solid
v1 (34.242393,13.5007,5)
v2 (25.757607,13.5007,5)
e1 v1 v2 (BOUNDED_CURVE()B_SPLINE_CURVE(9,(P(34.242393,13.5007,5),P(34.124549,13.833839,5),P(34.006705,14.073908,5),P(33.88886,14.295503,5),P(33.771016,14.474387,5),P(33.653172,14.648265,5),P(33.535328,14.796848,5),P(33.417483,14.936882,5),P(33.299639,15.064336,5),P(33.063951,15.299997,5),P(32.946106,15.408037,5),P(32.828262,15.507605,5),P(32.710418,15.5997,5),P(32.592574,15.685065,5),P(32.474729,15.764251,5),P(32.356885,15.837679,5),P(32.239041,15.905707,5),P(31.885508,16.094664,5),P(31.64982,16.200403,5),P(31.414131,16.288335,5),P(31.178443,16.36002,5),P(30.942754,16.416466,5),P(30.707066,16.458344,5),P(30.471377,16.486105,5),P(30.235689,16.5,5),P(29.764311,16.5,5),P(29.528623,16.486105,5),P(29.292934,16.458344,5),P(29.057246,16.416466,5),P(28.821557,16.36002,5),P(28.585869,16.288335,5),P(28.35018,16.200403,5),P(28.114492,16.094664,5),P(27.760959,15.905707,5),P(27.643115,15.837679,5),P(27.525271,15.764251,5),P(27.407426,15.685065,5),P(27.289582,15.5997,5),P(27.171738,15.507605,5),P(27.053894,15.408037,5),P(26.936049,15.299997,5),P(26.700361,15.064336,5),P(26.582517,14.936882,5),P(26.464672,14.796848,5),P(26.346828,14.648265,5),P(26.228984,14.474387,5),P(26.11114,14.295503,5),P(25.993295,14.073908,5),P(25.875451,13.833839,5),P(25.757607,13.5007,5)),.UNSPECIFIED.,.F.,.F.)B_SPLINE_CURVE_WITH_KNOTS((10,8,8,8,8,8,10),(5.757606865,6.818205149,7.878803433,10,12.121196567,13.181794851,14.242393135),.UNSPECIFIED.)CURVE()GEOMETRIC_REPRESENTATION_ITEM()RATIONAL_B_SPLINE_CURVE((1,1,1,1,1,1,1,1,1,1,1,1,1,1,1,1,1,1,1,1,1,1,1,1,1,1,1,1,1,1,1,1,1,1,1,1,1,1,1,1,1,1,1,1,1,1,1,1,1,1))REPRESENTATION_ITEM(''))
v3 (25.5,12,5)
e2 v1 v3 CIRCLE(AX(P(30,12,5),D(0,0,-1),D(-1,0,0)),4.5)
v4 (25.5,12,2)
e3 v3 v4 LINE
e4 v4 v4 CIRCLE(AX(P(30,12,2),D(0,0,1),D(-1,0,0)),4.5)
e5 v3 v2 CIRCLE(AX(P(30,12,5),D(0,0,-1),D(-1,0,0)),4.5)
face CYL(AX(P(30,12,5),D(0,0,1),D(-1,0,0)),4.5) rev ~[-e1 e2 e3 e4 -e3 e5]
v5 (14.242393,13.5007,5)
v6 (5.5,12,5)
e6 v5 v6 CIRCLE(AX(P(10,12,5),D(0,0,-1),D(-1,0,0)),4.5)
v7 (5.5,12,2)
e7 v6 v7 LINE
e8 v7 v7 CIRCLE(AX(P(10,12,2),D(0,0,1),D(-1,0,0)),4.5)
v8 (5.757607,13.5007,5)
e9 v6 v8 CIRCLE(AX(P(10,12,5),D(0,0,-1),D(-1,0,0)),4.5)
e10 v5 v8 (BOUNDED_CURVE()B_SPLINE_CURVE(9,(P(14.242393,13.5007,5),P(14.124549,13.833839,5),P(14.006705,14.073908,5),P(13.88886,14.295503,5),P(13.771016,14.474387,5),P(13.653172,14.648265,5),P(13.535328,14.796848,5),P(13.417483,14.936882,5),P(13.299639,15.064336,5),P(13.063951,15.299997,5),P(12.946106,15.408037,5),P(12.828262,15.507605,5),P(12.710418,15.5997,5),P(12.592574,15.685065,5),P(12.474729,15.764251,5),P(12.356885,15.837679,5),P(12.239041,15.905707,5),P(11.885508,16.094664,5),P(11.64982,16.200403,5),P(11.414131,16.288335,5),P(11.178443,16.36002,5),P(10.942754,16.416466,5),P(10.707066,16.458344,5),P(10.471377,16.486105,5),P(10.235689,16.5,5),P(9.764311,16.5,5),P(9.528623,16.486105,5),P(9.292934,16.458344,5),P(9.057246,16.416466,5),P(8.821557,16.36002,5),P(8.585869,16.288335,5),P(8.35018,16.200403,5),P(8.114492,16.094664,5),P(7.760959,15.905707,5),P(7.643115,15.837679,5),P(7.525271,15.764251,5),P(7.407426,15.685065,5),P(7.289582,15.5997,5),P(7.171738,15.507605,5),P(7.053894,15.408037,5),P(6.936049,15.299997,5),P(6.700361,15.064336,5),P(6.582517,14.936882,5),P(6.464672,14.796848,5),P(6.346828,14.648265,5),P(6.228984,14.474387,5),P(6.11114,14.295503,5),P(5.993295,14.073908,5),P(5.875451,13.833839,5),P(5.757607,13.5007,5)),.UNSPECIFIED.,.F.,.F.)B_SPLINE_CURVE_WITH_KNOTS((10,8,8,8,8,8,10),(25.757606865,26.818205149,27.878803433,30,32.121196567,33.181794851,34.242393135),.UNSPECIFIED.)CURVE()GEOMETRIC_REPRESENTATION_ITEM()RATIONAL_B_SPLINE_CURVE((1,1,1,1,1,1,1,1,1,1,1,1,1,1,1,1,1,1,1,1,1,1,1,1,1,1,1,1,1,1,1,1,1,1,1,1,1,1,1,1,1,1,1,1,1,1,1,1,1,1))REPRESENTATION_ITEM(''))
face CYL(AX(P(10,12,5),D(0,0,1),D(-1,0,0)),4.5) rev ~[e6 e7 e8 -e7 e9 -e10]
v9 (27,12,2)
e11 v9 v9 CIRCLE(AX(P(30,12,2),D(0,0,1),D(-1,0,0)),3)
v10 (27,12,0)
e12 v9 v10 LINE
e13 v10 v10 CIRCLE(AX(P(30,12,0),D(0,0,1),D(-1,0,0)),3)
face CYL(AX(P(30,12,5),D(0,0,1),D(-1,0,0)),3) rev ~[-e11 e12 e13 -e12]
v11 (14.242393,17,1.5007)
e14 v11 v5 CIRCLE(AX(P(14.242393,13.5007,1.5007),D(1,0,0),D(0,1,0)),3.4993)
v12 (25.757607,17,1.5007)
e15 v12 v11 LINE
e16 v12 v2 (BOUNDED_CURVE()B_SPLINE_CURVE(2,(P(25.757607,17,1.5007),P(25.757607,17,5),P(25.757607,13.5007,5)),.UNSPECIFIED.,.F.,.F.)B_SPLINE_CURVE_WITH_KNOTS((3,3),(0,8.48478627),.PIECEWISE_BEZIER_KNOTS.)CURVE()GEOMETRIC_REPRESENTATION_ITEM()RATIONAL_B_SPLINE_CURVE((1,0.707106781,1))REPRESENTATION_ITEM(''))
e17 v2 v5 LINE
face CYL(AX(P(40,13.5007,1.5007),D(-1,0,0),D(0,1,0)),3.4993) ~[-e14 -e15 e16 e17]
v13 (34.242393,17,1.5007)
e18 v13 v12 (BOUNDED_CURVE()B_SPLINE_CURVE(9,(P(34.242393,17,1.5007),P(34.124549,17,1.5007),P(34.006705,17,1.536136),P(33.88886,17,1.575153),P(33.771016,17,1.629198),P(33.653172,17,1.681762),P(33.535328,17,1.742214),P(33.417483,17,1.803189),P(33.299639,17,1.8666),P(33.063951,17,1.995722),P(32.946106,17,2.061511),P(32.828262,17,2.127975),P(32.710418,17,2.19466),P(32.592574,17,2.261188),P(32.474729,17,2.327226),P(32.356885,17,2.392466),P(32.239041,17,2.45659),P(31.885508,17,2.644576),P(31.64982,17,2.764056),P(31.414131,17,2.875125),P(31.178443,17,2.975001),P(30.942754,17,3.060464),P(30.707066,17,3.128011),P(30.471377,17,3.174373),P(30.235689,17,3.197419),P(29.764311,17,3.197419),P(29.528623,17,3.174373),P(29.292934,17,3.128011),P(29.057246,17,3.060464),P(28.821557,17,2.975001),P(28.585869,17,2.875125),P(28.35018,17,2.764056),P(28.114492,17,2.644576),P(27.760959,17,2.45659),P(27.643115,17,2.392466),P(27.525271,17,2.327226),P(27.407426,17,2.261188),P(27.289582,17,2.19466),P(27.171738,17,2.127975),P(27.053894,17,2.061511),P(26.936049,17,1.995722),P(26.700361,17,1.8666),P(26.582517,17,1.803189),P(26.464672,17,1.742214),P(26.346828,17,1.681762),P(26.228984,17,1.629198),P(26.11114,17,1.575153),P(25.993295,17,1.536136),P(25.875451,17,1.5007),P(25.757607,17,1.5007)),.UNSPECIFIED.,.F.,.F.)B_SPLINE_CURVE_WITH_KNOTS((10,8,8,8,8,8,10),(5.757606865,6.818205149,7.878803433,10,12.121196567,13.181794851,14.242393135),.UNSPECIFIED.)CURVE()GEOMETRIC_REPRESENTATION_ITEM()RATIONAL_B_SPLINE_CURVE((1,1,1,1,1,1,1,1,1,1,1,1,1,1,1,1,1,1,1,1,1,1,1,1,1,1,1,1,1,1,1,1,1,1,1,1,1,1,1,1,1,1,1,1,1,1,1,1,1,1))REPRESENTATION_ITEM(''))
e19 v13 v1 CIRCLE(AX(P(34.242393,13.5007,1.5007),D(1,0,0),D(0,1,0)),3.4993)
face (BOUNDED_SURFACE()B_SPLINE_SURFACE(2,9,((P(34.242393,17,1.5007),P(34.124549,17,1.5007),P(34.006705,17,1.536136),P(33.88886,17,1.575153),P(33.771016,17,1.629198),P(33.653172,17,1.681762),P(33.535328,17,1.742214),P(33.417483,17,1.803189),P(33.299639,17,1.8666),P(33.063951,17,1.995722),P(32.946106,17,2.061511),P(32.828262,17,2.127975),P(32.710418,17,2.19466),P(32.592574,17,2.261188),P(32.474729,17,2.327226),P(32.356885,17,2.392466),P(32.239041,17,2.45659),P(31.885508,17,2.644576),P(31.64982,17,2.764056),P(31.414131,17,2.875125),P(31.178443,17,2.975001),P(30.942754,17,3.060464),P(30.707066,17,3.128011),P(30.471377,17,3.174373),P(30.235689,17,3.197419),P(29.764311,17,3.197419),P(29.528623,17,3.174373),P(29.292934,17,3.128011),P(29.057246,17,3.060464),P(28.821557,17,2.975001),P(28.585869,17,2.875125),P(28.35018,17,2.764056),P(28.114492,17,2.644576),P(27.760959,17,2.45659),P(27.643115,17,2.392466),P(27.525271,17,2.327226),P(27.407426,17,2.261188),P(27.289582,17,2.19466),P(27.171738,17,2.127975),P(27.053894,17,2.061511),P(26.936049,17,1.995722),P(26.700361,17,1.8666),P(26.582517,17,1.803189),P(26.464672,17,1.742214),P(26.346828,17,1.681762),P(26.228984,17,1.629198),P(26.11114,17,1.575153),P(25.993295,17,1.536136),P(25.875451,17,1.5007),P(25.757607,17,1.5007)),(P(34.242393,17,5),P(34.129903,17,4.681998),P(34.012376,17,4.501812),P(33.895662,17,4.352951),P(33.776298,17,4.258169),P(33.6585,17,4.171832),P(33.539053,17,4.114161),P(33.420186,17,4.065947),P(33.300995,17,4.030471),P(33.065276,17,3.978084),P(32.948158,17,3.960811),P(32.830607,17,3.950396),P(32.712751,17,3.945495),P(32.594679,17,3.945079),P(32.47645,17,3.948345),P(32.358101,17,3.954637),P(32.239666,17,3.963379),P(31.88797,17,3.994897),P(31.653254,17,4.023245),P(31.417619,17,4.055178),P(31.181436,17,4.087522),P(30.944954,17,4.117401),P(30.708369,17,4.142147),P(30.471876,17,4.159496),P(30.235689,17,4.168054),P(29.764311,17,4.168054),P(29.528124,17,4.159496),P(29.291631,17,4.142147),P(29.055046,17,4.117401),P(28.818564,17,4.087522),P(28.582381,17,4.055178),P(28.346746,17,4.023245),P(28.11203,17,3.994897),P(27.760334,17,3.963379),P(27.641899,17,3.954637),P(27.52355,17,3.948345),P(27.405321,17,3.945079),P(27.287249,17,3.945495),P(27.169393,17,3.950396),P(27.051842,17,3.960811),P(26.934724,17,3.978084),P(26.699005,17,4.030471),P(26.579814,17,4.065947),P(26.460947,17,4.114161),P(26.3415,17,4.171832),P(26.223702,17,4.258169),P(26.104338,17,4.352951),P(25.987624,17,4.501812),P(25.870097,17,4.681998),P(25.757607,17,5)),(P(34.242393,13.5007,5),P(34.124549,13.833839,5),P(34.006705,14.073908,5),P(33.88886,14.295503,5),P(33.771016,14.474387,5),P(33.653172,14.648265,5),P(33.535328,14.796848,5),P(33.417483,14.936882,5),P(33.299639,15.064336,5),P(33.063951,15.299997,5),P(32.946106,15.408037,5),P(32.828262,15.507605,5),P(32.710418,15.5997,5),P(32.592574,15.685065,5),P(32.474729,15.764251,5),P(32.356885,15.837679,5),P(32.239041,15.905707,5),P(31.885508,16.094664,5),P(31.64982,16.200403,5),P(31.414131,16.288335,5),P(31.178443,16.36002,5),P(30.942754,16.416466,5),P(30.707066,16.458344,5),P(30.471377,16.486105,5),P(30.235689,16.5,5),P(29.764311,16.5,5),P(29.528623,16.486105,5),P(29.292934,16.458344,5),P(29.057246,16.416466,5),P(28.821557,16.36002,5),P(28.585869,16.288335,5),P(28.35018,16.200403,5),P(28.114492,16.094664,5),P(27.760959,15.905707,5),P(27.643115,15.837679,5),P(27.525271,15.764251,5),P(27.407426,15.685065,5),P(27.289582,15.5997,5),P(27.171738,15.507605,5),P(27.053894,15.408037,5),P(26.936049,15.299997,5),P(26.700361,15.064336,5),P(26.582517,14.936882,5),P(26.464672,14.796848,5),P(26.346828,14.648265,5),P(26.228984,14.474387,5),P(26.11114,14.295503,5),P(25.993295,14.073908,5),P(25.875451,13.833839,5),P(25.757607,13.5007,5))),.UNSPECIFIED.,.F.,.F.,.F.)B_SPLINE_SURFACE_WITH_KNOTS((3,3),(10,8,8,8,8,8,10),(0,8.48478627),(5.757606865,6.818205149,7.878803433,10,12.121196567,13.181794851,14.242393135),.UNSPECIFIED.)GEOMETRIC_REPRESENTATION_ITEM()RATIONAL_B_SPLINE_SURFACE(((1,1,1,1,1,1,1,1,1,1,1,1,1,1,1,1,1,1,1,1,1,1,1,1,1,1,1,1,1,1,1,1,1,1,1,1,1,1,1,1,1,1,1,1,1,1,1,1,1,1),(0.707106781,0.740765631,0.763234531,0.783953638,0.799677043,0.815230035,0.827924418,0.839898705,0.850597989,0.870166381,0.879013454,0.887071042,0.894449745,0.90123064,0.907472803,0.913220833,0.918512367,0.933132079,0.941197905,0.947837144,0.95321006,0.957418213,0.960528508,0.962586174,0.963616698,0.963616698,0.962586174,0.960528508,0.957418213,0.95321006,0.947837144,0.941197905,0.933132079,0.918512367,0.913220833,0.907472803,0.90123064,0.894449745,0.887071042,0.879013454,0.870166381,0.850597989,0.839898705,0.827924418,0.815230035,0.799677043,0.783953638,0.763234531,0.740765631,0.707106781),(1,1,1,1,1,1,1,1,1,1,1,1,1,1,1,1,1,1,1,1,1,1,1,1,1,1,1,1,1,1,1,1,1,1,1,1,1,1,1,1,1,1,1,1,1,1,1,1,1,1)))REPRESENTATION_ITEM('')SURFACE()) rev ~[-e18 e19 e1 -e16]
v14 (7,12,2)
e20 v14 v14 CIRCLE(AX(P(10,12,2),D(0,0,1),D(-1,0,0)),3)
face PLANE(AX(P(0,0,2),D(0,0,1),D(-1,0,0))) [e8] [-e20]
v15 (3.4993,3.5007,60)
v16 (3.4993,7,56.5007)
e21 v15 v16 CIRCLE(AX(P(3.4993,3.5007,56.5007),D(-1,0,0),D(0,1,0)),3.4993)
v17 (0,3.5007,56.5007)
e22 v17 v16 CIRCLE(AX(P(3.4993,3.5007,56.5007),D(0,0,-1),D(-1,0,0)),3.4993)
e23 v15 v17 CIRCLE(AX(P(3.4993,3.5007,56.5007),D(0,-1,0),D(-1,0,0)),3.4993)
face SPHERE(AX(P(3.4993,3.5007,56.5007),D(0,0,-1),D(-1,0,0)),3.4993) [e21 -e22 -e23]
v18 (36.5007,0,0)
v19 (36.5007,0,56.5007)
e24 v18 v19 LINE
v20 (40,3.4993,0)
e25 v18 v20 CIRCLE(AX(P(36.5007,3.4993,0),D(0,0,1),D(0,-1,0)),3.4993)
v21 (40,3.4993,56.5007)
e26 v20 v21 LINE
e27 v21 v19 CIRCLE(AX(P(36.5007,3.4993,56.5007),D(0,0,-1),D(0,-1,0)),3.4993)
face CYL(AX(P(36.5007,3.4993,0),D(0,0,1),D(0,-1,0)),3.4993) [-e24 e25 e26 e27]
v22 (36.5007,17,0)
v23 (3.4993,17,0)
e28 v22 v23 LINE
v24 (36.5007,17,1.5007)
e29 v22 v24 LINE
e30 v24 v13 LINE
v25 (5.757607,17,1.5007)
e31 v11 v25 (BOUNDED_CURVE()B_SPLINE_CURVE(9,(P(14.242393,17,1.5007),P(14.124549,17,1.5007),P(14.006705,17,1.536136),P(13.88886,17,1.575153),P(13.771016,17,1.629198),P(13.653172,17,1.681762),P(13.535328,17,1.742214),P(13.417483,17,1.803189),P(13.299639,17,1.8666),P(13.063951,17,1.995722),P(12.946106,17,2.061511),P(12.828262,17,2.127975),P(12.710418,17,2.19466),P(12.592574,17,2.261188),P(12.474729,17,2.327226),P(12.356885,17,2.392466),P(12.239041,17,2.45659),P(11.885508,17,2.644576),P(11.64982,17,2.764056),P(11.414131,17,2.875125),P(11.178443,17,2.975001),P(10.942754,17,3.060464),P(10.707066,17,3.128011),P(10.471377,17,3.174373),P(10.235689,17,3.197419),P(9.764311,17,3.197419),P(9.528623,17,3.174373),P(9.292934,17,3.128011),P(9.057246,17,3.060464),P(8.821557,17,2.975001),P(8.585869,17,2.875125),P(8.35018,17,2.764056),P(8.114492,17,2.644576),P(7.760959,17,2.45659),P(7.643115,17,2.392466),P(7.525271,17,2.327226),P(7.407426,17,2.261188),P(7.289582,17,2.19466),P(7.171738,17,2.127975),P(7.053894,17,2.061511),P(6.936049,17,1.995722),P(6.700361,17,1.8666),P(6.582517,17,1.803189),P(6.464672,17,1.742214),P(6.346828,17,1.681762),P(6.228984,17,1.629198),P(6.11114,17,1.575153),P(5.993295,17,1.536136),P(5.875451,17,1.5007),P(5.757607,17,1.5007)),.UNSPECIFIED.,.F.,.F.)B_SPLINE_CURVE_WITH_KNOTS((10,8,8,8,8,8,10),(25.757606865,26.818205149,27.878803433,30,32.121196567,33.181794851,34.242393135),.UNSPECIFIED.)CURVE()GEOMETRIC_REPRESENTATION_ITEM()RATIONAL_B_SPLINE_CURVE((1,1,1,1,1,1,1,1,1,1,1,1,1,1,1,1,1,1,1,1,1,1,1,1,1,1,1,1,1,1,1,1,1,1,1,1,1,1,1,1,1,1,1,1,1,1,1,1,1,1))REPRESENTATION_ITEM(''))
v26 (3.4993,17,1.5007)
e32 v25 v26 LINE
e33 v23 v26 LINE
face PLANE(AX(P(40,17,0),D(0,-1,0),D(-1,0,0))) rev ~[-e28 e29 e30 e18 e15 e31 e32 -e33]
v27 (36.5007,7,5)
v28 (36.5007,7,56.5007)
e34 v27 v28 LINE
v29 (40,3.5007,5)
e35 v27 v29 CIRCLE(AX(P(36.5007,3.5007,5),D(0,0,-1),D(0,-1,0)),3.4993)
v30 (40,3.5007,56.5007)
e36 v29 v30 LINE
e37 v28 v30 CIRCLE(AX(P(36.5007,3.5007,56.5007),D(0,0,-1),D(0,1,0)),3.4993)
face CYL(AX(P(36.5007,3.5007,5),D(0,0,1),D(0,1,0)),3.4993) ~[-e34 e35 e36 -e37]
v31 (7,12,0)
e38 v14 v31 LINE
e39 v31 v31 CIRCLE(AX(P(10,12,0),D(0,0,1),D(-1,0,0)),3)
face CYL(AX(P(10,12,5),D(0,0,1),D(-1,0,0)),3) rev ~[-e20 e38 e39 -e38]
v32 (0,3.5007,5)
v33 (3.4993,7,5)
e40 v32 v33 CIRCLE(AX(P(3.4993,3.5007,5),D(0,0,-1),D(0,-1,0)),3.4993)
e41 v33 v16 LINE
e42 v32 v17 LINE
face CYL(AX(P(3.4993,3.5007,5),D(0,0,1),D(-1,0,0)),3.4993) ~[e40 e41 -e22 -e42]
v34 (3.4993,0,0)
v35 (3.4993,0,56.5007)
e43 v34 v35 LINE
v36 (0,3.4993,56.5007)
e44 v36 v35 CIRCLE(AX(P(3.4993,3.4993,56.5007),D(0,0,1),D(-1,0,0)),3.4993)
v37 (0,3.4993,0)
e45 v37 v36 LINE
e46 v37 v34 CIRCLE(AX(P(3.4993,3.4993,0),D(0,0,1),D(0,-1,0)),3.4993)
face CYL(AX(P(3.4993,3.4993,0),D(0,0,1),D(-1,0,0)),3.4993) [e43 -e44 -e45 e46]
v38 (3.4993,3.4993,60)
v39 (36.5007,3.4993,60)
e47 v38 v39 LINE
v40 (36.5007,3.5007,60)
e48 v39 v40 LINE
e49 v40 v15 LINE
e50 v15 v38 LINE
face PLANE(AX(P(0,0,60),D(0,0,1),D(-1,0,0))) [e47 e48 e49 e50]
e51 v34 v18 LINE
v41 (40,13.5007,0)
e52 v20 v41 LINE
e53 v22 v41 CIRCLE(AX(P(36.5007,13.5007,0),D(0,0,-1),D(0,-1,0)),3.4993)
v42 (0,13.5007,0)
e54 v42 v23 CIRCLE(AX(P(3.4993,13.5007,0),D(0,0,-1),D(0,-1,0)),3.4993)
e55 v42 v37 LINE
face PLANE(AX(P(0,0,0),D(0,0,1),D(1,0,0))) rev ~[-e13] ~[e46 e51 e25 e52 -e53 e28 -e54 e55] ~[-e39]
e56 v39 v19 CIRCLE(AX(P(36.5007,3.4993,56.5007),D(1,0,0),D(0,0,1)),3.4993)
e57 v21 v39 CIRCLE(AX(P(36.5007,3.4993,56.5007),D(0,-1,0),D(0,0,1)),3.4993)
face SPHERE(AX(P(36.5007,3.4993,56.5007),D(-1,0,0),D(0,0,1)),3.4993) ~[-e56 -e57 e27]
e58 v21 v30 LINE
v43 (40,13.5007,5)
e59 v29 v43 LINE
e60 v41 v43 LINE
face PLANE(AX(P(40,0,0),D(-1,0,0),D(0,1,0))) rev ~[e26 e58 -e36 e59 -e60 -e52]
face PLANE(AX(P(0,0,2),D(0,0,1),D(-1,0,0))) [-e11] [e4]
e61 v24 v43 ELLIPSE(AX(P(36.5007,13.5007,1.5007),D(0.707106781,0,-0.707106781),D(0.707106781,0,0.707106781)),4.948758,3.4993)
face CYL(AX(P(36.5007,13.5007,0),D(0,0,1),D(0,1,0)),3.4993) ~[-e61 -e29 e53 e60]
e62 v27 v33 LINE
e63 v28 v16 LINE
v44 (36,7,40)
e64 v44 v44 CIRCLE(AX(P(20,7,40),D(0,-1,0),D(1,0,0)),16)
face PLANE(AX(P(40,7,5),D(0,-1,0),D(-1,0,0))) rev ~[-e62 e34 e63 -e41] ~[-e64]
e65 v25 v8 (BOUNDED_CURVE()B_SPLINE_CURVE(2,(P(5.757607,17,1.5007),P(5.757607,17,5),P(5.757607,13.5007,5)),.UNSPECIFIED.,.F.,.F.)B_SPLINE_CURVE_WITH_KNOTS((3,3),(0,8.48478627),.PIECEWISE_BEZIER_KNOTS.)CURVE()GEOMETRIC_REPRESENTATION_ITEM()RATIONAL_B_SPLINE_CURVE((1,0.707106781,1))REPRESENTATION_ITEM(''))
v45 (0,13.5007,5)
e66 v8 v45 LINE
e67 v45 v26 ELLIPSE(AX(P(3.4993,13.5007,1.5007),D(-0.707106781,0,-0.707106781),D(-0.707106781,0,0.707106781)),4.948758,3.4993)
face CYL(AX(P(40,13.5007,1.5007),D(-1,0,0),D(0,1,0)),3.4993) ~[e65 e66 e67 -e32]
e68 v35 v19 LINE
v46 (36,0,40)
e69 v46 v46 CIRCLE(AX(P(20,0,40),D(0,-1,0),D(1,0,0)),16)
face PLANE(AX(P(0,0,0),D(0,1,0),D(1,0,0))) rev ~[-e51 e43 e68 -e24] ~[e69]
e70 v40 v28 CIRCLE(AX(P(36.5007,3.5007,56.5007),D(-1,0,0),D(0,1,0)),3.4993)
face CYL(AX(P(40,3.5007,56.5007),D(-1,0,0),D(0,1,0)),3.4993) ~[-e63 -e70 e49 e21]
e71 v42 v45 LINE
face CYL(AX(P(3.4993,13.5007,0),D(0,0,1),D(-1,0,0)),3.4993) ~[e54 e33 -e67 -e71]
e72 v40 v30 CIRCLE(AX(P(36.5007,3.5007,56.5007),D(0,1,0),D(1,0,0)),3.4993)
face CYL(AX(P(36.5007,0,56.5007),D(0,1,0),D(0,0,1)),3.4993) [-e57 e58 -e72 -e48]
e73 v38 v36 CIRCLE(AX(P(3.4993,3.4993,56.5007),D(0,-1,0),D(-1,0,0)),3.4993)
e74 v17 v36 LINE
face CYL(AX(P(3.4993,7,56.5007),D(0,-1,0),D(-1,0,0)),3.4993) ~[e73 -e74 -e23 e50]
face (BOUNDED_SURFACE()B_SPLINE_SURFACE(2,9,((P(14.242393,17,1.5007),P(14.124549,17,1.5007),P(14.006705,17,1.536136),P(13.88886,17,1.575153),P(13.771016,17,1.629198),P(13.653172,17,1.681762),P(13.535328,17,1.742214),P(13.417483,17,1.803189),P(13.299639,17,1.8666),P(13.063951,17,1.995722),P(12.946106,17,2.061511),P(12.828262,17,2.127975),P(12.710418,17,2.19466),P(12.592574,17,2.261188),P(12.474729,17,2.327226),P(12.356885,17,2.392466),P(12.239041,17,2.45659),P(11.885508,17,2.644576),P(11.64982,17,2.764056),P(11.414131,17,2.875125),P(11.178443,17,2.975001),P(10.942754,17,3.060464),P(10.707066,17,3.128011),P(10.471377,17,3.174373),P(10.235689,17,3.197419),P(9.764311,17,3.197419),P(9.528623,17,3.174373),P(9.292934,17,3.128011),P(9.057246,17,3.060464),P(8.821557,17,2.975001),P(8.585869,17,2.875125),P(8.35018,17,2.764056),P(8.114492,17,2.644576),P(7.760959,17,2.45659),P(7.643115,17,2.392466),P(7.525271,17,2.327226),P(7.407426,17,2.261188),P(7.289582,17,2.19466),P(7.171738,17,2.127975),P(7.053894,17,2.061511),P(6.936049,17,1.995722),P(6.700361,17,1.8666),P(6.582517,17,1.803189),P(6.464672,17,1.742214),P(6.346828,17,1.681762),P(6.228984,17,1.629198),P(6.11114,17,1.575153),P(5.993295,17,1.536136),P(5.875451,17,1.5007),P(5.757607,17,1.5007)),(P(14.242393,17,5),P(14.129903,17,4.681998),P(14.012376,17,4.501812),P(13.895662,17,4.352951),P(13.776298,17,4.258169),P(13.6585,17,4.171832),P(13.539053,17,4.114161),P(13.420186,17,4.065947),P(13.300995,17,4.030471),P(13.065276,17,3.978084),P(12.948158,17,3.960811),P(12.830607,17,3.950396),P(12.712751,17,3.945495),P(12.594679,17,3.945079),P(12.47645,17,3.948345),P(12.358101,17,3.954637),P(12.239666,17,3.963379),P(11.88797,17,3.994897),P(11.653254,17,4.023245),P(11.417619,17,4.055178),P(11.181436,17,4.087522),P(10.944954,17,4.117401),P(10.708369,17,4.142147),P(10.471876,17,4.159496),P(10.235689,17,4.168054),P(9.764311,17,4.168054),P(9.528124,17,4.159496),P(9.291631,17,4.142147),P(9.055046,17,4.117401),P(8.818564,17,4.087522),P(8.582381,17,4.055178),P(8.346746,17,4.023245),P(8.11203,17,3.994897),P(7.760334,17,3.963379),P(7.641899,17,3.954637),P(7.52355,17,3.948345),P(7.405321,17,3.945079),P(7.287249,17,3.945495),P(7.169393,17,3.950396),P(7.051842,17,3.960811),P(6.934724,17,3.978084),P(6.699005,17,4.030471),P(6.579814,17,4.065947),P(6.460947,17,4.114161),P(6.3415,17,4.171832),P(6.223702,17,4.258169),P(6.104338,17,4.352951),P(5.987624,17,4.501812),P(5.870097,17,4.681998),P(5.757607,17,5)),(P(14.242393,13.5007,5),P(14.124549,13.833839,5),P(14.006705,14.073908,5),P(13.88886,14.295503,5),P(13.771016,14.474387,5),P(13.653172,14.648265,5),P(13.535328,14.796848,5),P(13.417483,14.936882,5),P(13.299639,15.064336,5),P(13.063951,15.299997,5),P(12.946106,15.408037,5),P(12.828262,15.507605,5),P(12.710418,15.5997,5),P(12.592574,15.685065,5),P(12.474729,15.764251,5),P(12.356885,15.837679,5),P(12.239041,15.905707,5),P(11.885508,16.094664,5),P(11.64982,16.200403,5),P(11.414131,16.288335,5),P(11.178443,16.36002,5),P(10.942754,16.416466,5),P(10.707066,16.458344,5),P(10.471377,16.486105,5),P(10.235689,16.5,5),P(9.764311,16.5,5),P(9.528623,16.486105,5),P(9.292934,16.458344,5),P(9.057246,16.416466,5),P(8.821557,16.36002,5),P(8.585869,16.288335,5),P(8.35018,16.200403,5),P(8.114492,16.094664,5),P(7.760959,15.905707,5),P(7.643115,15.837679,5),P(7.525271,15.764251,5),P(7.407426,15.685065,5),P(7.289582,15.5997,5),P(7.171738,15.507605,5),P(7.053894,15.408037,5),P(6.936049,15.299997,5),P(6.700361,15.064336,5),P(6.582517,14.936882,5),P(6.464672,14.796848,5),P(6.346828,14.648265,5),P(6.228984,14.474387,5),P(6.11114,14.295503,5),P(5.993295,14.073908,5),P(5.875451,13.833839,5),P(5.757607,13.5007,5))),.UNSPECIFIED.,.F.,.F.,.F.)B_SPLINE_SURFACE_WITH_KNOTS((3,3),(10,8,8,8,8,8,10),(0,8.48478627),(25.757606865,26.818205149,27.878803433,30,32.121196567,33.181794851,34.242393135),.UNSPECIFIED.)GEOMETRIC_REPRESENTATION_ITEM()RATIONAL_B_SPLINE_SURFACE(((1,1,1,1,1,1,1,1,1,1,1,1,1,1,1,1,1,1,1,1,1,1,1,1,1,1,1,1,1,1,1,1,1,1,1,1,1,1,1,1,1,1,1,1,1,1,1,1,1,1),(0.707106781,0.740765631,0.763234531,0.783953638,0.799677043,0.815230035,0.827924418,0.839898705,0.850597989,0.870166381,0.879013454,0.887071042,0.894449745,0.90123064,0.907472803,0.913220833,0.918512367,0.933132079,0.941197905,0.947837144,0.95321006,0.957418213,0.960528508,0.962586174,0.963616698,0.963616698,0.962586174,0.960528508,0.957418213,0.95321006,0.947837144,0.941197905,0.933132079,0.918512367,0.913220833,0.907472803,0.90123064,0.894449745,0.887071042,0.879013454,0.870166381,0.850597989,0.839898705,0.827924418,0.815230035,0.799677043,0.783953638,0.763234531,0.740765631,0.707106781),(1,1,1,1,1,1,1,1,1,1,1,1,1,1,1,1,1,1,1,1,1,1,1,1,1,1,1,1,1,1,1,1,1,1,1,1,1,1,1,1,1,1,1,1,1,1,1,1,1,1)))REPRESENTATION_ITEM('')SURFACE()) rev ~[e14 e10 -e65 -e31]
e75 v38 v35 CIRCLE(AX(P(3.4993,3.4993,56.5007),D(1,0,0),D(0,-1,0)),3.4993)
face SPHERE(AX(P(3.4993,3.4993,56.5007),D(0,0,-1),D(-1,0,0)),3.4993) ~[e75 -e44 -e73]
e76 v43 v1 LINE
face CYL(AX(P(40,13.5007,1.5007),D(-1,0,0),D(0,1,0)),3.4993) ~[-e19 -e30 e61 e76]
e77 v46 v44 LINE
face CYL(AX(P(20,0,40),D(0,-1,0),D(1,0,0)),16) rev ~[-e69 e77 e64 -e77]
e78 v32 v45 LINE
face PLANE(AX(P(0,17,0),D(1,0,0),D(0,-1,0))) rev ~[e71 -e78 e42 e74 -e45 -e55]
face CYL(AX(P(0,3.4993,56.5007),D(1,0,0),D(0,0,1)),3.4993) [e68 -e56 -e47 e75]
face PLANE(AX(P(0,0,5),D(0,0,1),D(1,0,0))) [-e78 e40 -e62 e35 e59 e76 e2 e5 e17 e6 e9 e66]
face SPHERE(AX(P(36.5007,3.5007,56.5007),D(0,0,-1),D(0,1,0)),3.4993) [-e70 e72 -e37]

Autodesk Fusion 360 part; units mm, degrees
sketch "Sketch1" plane through (0, 0, 0) normal (0, 0, 1) x (1, 0, 0)
  line L0 (0, 0) -> (40, 0)
  line L1 (40, 0) -> (40, 17)
  line L2 (40, 17) -> (0, 17)
  line L3 (0, 17) -> (0, 0)
  dimension "d1" = 40
  dimension "d2" = 17
extrude "Extrude1" add sketch "Sketch1" along normal blind 5
sketch "Sketch2" plane through (0, 0, 5) normal (0, 0, 1) x (-1, 0, 0)
  line L0 (0, -17) -> (0, 0)
  line L1 (0, 0) -> (-40, 0)
  line L2 (-40, 0) -> (-40, -17)
  line L3 (-40, -17) -> (0, -17)
  line L4 (0, 0) -> (-40, 0)
  line L5 (-40, 0) -> (-40, -7)
  line L6 (-40, -7) -> (0, -7)
  line L7 (0, -7) -> (0, 0)
  dimension "d5" = 40
  dimension "d6" = 7
extrude "Extrude2" add sketch "Sketch2" along normal blind 55 contours L0 L1 L2 L4 L5 L6 L7
sketch "Sketch3" plane through (0, 0, 0) normal (0, -1, 0) x (1, 0, 0)
  line L0 (0, 0) -> (40, 0)
  line L1 (40, 0) -> (40, 60)
  line L2 (40, 60) -> (0, 60)
  line L3 (0, 60) -> (0, 0)
  circle A0 centre (20, 40) radius 16
  dimension "d9" = 32
extrude "Extrude3" cut sketch "Sketch3" against normal blind 7 contours A0
sketch "Sketch4" plane through (0, 0, 5) normal (0, 0, 1) x (-1, 0, 0)
  line L0 (0, -7) -> (-40, -7)
  line L1 (-40, -7) -> (-40, -17)
  line L2 (-40, -17) -> (0, -17)
  line L3 (-40, -17) -> (-30, -17)
  line L4 (-30, -17) -> (-30, -7)
  line L5 (-30, -7) -> (-40, -7)
  line L6 (-40, -7) -> (-40, -17)
  circle A0 centre (-30, -12) radius 4.5
  line L7 (-30, -12) -> (-10, -12)
  line L8 (-10, -12) -> (-10, -17)
  line L9 (-10, -17) -> (-30, -17)
  line L10 (-30, -17) -> (-30, -12)
  circle A1 centre (-10, -12) radius 4.5
  line L11 (0, -17) -> (0, -7)
  dimension "d24" = 10
  dimension "d25" = 10
  dimension "d26" = 9
  dimension "d27" = 20
  dimension "d28" = 5
  dimension "d29" = 9
extrude "Extrude7" cut sketch "Sketch4" against normal blind 3 contours L4 A0 L7 | L4 A0 L10 | L4 A0 L7 L10 | L7 L8 A1 | L7 L8 A1
sketch "Sketch7" plane through (0, 0, 5) normal (0, 0, 1) x (-1, 0, 0)
  circle A0 centre (-30, -12) radius 3
  circle A1 centre (-10, -12) radius 3
  dimension "d32" = 6
  dimension "d33" = 6
extrude "Extrude8" cut sketch "Sketch7" against normal blind 5
fillet "Fillet2" radius 3.5 11 edges at (0, 17, 2.5) (40, 7, 32.5) (40, 17, 2.5) (0, 0, 30) (0, 7, 32.5) (0, 3.5, 60) (20, 7, 60) (20, 0, 60) (40, 3.5, 60) (40, 0, 30) (20, 17, 5)
